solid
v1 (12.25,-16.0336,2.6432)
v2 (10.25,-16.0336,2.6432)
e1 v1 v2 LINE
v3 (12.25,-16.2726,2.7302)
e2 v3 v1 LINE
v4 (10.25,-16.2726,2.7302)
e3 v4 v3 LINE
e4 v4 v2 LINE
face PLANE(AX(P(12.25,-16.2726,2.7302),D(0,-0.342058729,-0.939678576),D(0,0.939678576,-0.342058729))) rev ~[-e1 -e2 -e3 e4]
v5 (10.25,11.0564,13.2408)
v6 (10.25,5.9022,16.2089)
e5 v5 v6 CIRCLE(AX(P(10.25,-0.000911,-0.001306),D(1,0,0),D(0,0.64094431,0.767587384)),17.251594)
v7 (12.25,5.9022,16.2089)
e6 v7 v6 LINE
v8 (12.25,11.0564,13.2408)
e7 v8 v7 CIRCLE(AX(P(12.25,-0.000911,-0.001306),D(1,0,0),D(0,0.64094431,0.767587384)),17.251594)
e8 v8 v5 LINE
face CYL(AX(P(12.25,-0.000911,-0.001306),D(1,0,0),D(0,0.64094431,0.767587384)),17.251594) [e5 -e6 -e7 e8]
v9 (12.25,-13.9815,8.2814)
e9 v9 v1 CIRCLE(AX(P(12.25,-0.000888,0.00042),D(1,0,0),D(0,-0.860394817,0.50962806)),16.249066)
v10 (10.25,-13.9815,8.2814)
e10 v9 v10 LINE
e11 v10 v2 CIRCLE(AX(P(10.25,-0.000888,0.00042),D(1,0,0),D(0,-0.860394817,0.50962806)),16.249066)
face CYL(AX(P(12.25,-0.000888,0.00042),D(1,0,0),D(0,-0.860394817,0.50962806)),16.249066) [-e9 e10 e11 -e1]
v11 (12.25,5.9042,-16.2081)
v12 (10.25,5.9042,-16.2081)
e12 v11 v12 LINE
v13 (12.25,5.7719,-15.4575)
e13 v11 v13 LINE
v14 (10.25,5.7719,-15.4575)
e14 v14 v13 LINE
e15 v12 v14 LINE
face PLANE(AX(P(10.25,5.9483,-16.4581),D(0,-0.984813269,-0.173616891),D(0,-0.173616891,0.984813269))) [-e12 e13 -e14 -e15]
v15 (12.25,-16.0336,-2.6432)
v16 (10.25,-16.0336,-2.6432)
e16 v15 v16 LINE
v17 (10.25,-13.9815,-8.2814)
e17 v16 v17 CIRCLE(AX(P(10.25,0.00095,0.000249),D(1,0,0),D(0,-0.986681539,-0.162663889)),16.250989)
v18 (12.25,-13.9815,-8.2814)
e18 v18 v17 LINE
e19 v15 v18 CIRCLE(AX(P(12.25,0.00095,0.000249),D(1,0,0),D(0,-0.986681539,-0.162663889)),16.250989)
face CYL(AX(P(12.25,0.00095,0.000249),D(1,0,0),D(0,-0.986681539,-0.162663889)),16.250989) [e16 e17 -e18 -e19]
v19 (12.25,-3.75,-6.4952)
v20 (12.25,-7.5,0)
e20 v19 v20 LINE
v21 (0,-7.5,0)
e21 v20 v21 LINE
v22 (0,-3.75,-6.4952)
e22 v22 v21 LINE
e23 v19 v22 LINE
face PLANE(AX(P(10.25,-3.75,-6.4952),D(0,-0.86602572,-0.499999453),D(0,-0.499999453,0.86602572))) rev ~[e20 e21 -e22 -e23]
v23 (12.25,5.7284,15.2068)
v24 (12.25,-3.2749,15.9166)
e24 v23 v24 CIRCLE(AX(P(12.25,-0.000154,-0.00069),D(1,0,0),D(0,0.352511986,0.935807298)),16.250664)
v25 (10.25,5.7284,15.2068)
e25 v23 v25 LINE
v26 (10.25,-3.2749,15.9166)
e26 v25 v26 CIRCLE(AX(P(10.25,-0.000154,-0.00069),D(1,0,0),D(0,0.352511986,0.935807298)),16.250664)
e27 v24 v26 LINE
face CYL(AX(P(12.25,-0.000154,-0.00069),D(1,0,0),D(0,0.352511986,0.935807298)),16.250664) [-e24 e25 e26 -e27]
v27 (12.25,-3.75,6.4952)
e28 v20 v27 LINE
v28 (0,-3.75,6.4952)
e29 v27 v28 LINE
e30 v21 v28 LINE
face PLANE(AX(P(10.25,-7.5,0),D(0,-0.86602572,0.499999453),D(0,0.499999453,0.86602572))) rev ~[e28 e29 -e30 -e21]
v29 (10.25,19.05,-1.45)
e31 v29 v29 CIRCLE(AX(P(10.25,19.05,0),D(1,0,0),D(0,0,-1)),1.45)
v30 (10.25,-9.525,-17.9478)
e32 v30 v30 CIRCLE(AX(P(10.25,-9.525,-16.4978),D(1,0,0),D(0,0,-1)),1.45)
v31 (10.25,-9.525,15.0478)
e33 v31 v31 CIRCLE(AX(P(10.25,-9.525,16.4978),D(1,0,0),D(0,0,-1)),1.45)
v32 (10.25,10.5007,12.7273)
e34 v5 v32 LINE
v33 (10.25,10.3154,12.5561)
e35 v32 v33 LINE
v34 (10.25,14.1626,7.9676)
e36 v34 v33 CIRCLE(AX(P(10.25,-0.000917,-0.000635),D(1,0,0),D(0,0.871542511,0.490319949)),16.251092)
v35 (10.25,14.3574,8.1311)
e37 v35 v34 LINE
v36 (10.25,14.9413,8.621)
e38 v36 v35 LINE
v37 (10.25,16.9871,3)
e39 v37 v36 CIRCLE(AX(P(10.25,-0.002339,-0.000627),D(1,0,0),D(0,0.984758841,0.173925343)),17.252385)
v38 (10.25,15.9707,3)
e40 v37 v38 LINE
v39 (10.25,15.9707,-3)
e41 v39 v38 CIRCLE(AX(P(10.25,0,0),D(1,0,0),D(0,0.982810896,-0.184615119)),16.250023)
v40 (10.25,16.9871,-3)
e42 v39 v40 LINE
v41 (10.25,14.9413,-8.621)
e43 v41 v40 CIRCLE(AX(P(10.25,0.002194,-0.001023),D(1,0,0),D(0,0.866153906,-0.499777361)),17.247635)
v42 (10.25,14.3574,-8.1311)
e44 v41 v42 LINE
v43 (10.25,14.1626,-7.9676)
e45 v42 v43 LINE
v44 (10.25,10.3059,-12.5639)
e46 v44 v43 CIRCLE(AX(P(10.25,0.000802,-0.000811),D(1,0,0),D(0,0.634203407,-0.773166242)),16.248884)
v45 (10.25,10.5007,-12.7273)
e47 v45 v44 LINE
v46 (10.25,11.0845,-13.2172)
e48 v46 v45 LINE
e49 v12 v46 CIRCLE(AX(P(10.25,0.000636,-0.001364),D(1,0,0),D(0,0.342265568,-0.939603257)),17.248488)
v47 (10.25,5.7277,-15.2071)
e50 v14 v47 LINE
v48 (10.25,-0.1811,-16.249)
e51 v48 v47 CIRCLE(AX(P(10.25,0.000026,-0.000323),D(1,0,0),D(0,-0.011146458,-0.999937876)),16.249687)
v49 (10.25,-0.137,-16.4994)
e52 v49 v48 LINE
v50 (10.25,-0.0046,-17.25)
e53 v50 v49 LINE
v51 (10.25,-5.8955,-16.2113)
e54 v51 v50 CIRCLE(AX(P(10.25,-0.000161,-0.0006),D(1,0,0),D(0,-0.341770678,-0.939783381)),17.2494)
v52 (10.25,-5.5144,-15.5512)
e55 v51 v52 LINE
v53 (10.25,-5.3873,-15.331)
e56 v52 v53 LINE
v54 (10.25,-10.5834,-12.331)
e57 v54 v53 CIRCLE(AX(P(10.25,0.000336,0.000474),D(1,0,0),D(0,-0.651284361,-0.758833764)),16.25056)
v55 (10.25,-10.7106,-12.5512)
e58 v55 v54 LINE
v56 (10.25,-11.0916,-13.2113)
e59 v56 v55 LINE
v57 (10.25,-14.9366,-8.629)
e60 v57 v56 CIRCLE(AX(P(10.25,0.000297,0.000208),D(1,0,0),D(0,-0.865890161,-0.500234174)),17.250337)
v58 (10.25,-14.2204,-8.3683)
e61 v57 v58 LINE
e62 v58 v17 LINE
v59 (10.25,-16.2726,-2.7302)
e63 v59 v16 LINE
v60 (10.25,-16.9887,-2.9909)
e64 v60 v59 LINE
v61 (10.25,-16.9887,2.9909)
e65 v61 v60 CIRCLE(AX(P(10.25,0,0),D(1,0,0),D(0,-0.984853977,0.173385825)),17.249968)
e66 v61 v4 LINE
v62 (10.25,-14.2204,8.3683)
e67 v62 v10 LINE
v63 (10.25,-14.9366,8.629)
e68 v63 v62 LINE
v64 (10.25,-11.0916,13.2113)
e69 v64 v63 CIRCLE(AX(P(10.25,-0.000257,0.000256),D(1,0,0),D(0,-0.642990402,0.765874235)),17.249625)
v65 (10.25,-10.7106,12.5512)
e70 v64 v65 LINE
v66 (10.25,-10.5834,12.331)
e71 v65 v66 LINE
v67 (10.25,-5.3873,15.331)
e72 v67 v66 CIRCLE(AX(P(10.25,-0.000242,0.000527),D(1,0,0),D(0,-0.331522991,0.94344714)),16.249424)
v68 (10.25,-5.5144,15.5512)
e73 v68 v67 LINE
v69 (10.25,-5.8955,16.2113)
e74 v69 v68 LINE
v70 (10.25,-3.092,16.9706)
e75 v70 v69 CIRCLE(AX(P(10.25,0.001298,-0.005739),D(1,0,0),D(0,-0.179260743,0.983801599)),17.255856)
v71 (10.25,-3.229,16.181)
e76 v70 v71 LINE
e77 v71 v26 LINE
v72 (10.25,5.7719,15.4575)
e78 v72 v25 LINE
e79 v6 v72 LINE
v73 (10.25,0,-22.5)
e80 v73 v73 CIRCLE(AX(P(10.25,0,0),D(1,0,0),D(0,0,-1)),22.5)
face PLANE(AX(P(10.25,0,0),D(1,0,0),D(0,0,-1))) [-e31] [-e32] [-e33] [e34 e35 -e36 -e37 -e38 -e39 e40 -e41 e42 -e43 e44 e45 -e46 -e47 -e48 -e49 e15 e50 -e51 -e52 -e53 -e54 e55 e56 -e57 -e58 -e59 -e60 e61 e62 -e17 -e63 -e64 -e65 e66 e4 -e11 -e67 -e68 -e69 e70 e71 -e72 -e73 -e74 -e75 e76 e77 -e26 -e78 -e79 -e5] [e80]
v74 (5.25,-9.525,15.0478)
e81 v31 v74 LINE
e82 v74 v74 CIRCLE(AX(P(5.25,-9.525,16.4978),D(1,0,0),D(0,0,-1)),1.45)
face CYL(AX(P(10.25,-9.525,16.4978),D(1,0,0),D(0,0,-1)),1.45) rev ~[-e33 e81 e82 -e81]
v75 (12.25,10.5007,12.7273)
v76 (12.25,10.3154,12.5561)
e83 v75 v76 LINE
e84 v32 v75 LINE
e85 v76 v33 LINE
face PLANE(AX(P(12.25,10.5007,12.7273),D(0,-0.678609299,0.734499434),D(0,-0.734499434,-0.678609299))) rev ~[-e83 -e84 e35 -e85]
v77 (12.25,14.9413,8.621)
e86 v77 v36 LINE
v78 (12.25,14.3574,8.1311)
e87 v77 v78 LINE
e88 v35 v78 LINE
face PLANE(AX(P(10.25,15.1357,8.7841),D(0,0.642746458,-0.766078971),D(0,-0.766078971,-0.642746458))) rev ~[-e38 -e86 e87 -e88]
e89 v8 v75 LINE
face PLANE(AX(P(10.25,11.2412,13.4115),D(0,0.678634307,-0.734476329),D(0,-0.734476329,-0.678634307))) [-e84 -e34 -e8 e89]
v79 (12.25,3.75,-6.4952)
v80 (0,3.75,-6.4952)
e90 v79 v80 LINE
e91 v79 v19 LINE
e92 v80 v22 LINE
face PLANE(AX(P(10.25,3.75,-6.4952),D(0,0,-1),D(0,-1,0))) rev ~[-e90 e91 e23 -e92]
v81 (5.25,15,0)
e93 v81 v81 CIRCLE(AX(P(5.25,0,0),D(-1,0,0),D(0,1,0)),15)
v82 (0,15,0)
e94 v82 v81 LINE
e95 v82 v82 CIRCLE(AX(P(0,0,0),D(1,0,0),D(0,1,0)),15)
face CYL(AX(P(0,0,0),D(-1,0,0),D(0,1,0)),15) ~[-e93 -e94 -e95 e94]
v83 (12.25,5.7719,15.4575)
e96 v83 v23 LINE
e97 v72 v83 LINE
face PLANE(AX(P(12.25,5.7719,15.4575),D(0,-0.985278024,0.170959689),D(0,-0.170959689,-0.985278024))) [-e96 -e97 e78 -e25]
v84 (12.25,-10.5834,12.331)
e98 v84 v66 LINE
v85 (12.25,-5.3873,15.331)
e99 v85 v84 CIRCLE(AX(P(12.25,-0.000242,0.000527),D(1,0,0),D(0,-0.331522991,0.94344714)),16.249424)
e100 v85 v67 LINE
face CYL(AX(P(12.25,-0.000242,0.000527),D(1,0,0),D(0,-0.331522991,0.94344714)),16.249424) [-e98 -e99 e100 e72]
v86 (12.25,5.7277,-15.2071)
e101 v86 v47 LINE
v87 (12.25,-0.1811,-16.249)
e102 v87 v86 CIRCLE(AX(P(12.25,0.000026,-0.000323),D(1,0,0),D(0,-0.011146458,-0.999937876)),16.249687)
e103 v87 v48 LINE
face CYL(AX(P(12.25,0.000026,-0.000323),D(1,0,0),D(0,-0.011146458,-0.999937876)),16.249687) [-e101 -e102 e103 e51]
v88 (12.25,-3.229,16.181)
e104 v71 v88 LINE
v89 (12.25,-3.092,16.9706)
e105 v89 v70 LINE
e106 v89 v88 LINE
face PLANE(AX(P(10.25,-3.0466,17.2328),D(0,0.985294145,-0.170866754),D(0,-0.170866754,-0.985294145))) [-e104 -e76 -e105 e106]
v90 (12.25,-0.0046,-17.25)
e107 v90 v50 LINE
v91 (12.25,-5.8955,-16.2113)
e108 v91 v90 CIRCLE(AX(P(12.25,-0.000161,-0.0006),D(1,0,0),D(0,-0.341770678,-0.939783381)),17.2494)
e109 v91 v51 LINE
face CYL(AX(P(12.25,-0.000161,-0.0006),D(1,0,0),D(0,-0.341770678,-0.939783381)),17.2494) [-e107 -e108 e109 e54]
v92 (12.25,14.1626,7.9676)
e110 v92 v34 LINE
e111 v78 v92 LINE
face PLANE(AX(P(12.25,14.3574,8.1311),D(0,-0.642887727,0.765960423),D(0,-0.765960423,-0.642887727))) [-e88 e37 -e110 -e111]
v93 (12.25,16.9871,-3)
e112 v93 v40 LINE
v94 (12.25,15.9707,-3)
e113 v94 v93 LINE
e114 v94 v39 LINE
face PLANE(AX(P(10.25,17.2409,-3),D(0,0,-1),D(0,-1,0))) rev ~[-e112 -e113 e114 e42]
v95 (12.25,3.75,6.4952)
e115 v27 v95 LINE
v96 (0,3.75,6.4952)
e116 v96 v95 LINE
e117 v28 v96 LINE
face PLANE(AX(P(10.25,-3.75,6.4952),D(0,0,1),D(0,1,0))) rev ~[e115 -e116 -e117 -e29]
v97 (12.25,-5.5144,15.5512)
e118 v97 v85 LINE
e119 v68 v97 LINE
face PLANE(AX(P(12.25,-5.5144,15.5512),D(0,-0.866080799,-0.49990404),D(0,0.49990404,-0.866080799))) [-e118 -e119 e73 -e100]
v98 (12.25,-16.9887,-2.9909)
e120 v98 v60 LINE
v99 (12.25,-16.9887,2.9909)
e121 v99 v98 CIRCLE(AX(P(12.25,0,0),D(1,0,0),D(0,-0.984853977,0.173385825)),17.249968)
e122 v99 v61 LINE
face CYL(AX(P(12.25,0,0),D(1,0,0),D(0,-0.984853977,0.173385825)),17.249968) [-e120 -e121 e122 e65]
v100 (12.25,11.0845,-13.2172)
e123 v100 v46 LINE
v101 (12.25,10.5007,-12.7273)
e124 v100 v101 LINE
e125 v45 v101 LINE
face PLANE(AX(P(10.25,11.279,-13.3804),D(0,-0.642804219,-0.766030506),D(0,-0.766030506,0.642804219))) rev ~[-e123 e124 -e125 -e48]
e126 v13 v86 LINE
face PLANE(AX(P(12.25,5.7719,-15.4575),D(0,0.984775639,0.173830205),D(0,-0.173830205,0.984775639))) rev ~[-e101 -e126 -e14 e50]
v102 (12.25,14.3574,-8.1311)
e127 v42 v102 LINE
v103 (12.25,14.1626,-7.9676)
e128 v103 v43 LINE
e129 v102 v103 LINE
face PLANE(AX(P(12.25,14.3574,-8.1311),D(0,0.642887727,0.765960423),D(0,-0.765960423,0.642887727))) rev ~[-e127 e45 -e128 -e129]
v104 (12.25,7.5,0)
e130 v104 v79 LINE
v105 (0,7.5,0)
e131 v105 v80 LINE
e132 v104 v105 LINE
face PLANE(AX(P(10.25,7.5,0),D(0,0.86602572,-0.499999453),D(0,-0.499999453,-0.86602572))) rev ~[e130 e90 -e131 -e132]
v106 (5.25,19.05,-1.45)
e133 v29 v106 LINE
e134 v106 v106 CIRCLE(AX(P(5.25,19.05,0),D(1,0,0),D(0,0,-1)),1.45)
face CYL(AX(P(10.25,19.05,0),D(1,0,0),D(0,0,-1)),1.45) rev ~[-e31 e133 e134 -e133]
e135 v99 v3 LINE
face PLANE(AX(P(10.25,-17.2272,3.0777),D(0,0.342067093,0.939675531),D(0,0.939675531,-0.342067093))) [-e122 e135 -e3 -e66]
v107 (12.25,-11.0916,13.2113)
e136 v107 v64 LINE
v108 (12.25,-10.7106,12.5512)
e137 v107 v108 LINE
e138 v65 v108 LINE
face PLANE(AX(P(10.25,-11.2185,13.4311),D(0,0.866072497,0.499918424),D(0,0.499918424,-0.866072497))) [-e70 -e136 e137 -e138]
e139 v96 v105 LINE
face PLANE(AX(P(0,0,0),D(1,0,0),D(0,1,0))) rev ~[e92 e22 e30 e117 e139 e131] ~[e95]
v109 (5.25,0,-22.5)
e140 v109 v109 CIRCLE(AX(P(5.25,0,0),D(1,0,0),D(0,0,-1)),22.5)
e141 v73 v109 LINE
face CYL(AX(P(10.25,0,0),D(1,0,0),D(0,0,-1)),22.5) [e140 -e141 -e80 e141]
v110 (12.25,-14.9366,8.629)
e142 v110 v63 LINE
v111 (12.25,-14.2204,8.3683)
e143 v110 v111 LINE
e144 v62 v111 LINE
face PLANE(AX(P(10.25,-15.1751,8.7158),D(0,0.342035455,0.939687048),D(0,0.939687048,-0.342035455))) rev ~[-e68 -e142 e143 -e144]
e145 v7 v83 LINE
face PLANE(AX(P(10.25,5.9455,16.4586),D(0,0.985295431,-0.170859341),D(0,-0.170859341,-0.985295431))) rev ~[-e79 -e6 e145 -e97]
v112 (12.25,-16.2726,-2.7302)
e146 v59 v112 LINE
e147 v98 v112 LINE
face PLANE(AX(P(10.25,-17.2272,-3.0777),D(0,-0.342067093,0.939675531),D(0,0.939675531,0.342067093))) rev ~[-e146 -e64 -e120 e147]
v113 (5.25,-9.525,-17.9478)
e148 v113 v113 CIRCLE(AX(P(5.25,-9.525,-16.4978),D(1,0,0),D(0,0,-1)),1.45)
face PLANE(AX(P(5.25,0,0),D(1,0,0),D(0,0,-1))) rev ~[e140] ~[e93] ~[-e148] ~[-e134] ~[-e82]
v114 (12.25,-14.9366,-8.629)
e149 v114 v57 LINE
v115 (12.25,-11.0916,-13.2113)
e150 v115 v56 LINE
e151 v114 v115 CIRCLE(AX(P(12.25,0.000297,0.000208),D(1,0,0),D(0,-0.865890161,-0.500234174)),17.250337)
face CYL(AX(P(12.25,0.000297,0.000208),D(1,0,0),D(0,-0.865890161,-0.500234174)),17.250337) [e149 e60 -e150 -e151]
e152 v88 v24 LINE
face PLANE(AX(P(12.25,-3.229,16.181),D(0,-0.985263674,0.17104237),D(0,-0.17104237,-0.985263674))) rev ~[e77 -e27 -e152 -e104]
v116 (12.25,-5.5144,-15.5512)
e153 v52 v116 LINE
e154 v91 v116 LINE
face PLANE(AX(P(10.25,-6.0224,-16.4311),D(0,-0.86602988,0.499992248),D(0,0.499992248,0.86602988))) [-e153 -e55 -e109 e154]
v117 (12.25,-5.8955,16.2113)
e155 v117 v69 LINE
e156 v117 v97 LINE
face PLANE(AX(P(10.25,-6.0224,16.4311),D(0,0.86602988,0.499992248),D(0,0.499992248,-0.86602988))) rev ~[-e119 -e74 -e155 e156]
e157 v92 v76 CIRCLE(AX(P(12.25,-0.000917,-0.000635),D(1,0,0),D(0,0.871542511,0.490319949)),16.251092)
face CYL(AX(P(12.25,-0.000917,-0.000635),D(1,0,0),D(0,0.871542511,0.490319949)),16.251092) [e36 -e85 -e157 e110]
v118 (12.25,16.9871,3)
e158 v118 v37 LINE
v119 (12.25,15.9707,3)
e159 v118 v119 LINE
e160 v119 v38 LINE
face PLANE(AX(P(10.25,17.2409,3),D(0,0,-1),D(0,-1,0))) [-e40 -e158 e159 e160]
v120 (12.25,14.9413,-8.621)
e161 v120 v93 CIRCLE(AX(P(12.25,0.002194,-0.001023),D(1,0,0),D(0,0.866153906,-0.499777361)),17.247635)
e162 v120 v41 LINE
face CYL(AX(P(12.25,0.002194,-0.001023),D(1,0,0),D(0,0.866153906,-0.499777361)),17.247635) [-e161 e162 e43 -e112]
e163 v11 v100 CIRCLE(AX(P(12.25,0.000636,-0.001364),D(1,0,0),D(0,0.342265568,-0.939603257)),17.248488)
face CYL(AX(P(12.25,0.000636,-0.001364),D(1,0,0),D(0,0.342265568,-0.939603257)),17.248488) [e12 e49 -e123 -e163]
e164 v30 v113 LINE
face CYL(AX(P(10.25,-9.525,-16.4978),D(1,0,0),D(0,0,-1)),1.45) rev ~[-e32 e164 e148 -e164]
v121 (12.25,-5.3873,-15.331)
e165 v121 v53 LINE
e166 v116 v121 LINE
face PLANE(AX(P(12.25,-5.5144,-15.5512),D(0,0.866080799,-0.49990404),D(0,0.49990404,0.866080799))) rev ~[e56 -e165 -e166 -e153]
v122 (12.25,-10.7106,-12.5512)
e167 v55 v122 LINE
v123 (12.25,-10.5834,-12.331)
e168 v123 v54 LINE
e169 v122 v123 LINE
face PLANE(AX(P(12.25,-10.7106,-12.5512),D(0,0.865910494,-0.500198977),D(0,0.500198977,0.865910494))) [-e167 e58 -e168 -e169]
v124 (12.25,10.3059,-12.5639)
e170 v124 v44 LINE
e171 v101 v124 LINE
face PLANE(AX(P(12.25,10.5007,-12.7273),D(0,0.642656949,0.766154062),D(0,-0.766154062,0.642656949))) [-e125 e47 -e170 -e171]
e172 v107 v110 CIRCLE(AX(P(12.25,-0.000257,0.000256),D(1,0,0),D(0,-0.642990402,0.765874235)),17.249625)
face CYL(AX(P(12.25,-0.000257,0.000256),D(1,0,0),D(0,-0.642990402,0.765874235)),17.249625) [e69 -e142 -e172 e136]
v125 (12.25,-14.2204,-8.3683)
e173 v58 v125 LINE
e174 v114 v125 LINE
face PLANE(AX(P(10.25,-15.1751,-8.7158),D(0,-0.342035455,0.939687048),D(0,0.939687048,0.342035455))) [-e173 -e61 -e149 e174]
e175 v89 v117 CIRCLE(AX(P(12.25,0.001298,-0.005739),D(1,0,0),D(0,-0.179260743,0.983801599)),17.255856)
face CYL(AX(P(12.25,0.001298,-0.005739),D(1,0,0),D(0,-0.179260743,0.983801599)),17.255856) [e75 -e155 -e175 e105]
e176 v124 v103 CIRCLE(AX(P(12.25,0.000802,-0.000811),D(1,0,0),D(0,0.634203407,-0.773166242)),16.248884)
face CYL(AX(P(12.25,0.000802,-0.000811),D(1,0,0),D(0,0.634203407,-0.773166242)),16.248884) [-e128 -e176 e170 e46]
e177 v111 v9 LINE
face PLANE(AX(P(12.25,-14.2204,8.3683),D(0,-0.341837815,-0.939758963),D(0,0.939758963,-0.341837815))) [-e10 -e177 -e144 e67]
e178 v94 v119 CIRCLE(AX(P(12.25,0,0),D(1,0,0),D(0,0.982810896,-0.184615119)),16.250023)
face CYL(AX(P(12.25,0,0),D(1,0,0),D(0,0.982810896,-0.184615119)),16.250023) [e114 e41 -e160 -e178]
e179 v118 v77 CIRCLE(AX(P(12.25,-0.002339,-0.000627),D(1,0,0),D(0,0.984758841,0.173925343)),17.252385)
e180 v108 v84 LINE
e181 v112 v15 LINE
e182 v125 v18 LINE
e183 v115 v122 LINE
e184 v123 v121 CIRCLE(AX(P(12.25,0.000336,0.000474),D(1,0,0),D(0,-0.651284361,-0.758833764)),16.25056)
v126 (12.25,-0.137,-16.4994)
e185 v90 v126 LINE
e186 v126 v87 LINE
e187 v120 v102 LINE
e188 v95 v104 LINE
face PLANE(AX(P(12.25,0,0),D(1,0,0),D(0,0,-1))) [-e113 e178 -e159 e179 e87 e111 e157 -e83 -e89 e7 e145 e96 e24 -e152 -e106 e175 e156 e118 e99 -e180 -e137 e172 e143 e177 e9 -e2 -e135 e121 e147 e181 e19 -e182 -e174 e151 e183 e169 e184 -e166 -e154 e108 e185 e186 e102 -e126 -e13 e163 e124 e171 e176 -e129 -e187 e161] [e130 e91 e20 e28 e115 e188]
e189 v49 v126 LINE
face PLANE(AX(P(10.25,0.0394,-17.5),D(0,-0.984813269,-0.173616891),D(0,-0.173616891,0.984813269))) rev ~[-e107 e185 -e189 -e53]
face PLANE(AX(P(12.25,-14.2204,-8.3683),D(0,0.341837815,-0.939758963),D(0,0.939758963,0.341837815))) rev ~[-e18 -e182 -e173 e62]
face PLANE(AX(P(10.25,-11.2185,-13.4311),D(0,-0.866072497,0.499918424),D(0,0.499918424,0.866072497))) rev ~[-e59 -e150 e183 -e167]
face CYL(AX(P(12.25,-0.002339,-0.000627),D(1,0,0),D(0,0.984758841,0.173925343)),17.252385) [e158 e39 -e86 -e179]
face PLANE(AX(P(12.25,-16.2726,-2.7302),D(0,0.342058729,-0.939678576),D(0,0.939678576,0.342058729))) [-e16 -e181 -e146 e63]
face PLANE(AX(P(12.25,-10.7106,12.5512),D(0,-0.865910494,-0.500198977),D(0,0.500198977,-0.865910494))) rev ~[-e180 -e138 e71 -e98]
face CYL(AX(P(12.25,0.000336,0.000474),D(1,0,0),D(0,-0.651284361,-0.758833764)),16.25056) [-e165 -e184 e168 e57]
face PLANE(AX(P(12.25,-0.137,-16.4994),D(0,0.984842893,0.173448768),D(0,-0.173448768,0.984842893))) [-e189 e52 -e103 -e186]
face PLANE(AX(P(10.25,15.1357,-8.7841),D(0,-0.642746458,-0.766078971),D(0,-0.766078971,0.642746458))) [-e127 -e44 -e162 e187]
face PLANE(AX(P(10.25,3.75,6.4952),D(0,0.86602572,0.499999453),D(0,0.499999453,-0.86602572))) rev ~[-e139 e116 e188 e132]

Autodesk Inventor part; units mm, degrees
ref_plane "YZ Plane" through (0, 0, 0) normal (1, 0, 0) x (0, 1, 0)
ref_plane "XZ Plane" through (0, 0, 0) normal (0, 1, 0) x (-1, 0, 0)
sketch "Sketch1" plane through (0, 0, 0) normal (1, 0, 0) x (0, 1, 0)
  line L0 (0, 0) -> (7.5, 0)
  line L1 (7.5, 0) -> (3.75, -6.4952)
  line L2 (3.75, -6.4952) -> (-3.75, -6.4952)
  line L3 (-3.75, -6.4952) -> (-7.5, 0)
  line L4 (-7.5, 0) -> (-3.75, 6.4952)
  line L5 (-3.75, 6.4952) -> (3.75, 6.4952)
  line L6 (3.75, 6.4952) -> (7.5, 0)
  circle A0 centre (0, 0) radius 15
  dimension "d0" = 7.5
  dimension "d1" = 30
extrude "Extrusion1" add sketch "Sketch1" along normal blind 10.25
sketch "Sketch2" plane through (10.25, 0, 0) normal (1, 0, 0) x (0, 0, -1)
  circle A0 centre (0, 0) radius 22.5
  line L0 (-6.4952, 3.75) -> (0, 7.5) projected
  line L1 (-6.4952, -3.75) -> (-6.4952, 3.75) projected
  line L2 (0, -7.5) -> (-6.4952, -3.75) projected
  line L3 (6.4952, -3.75) -> (0, -7.5) projected
  line L4 (6.4952, 3.75) -> (6.4952, -3.75) projected
  line L5 (0, 7.5) -> (6.4952, 3.75) projected
  dimension "d4" = 45
extrude "Extrusion2" add sketch "Sketch2" against normal blind 5
sketch "Sketch3" plane through (10.25, 0, 0) normal (1, 0, 0) x (0, 0, -1)
  circle A0 centre (0, 19.05) radius 1.45
  circle A1 centre (-16.4978, -9.525) radius 1.45
  circle A2 centre (16.4978, -9.525) radius 1.45
  point P0 (0, 0)
  dimension "d11" = 360
extrude "Extrusion3" cut sketch "Sketch3" against normal up to surface (5 mm away)
sketch "Sketch4" plane through (10.25, 0, 0) normal (1, 0, 0) x (0, 0, -1)
  circle A0 centre (0, 19.05) radius 1.45
  line L0 (-3, 17.2409) -> (-3, 16.225)
  line L1 (3, 17.2409) -> (3, 16.225)
  line L2 (13.3804, 11.279) -> (12.7273, 10.5007)
  line L3 (8.7841, 15.1357) -> (8.1311, 14.3574)
  line L4 (17.5, 0.0394) -> (16.4994, -0.137)
  line L5 (16.4581, 5.9483) -> (15.4575, 5.7719)
  line L6 (13.4311, -11.2185) -> (12.5512, -10.7106)
  line L7 (16.4311, -6.0224) -> (15.5512, -5.5144)
  arc A1 (8.7841, 15.1357) -> (3, 17.2409) centre (0, 0) ccw
  arc A2 (16.4311, -6.0224) -> (17.5, 0.0394) centre (0, 0) ccw
  arc A3 (16.4581, 5.9483) -> (13.3804, 11.279) centre (0, 0) ccw
  arc A4 (12.7273, 10.5007) -> (8.1311, 14.3574) centre (0, 0) ccw
  arc A5 (16.4994, -0.137) -> (15.4575, 5.7719) centre (0, 0) ccw
  line L8 (3.0777, -17.2272) -> (2.7302, -16.2726)
  line L9 (3.0777, -17.2272) -> (2.7302, -16.2726)
  line L10 (8.7158, -15.1751) -> (8.3683, -14.2204)
  line L11 (8.7158, -15.1751) -> (8.3683, -14.2204)
  line L12 (-8.7158, -15.1751) -> (-8.3683, -14.2204)
  line L13 (-8.7158, -15.1751) -> (-8.3683, -14.2204)
  line L14 (-3.0777, -17.2272) -> (-2.7302, -16.2726)
  line L15 (-3.0777, -17.2272) -> (-2.7302, -16.2726)
  line L16 (-16.4311, -6.0224) -> (-15.5512, -5.5144)
  line L17 (-16.4311, -6.0224) -> (-15.5512, -5.5144)
  line L18 (-13.4311, -11.2185) -> (-12.5512, -10.7106)
  line L19 (-13.4311, -11.2185) -> (-12.5512, -10.7106)
  arc A6 (8.7158, -15.1751) -> (13.4311, -11.2185) centre (0, 0) ccw
  arc A7 (-13.4311, -11.2185) -> (-8.7158, -15.1751) centre (0, 0) ccw
  arc A8 (-3.0777, -17.2272) -> (3.0777, -17.2272) centre (0, 0) ccw
  arc A9 (12.5512, -10.7106) -> (15.5512, -5.5144) centre (0, 0) ccw
  arc A10 (2.7302, -16.2726) -> (8.3683, -14.2204) centre (0, 0) ccw
  arc A11 (-8.3683, -14.2204) -> (-2.7302, -16.2726) centre (0, 0) ccw
  line L20 (-8.7841, 15.1357) -> (-8.1311, 14.3574)
  line L21 (-13.4115, 11.2412) -> (-12.7273, 10.5007)
  line L22 (-16.4586, 5.9455) -> (-15.4575, 5.7719)
  line L23 (-16.4311, -6.0224) -> (-15.5512, -5.5144)
  line L24 (-13.4311, -11.2185) -> (-12.5512, -10.7106)
  arc A12 (-3, 17.2409) -> (-8.7841, 15.1357) centre (0, 0) ccw
  arc A13 (-13.4115, 11.2412) -> (-15.8894, 7.3321) centre (0, 0) ccw
  arc A14 (-17.2328, -3.0466) -> (-16.4311, -6.0224) centre (0, 0) ccw
  arc A15 (-15.5512, -5.5144) -> (-12.5512, -10.7106) centre (0, 0) ccw
  arc A16 (3, 16.225) -> (-3, 16.225) centre (0, 0) ccw
  arc A17 (-8.1311, 14.3574) -> (-12.7273, 10.5007) centre (0, 0) ccw
  line L25 (-6.4952, 3.75) -> (0, 7.5)
  line L26 (-6.4952, -3.75) -> (-6.4952, 3.75)
  line L27 (0, -7.5) -> (-6.4952, -3.75)
  line L28 (6.4952, -3.75) -> (0, -7.5)
  line L29 (6.4952, 3.75) -> (6.4952, -3.75)
  line L30 (0, 7.5) -> (6.4952, 3.75)
  line L31 (-17.2328, -3.0466) -> (-16.181, -3.229)
  arc A18 (-3, 17.2409) -> (-8.7841, 15.1357) centre (0, 0) ccw
  arc A19 (8.7841, 15.1357) -> (3, 17.2409) centre (0, 0) ccw
  arc A20 (16.4581, 5.9483) -> (13.3804, 11.279) centre (0, 0) ccw
  arc A21 (16.4311, -6.0224) -> (17.5, 0.0394) centre (0, 0) ccw
  arc A22 (8.7158, -15.1751) -> (13.4311, -11.2185) centre (0, 0) ccw
  arc A23 (-3.0777, -17.2272) -> (3.0777, -17.2272) centre (0, 0) ccw
  arc A24 (-13.4311, -11.2185) -> (-8.7158, -15.1751) centre (0, 0) ccw
  arc A25 (-13.4115, 11.2412) -> (-16.4586, 5.9455) centre (0, 0) ccw
  arc A26 (3, 16.225) -> (-3, 16.225) centre (0, 0) ccw
  arc A27 (12.7273, 10.5007) -> (8.1311, 14.3574) centre (0, 0) ccw
  arc A28 (16.4994, -0.137) -> (15.4575, 5.7719) centre (0, 0) ccw
  arc A29 (12.5512, -10.7106) -> (15.5512, -5.5144) centre (0, 0) ccw
  arc A30 (2.7302, -16.2726) -> (8.3683, -14.2204) centre (0, 0) ccw
  arc A31 (-8.3683, -14.2204) -> (-2.7302, -16.2726) centre (0, 0) ccw
  arc A32 (-15.4575, 5.7719) -> (-16.181, -3.229) centre (0, 0) ccw
  arc A33 (-15.5512, -5.5144) -> (-12.5512, -10.7106) centre (0, 0) ccw
  arc A34 (-8.3683, -14.2204) -> (-2.7302, -16.2726) centre (0, 0) ccw
  arc A35 (2.7302, -16.2726) -> (8.3683, -14.2204) centre (0, 0) ccw
  arc A36 (12.5512, -10.7106) -> (15.5512, -5.5144) centre (0, 0) ccw
  arc A37 (16.4994, -0.137) -> (15.4575, 5.7719) centre (0, 0) ccw
  arc A38 (12.7273, 10.5007) -> (8.1311, 14.3574) centre (0, 0) ccw
  arc A39 (3, 16.225) -> (-3, 16.225) centre (0, 0) ccw
  arc A40 (-8.1311, 14.3574) -> (-12.7273, 10.5007) centre (0, 0) ccw
  line L32 (-16.181, -3.229) -> (-17.2328, -3.0466)
  line L33 (-8.7158, -15.1751) -> (-8.3683, -14.2204)
  line L34 (-3.0777, -17.2272) -> (-2.7302, -16.2726)
  line L35 (3.0777, -17.2272) -> (2.7302, -16.2726)
  line L36 (8.3683, -14.2204) -> (8.7158, -15.1751)
  line L37 (12.5512, -10.7106) -> (13.4311, -11.2185)
  line L38 (15.5512, -5.5144) -> (16.4311, -6.0224)
  line L39 (16.4994, -0.137) -> (17.5, 0.0394)
  line L40 (15.4575, 5.7719) -> (16.4581, 5.9483)
  line L41 (12.7273, 10.5007) -> (13.3804, 11.279)
  line L42 (8.1311, 14.3574) -> (8.7841, 15.1357)
  line L43 (3, 16.225) -> (3, 17.2409)
  line L44 (-3, 16.225) -> (-3, 17.2409)
  line L45 (-8.1311, 14.3574) -> (-8.7841, 15.1357)
  line L46 (-12.7273, 10.5007) -> (-13.3804, 11.279)
  line L47 (-12.7273, 10.5007) -> (-13.3804, 11.279)
  line L48 (-15.4575, 5.7719) -> (-16.4586, 5.9455)
  line L49 (-16.181, -3.229) -> (-17.2328, -3.0466)
  line L50 (-16.4311, -6.0224) -> (-15.5512, -5.5144)
  line L51 (-13.4311, -11.2185) -> (-12.5512, -10.7106)
  line L52 (-8.7158, -15.1751) -> (-8.3683, -14.2204)
  line L53 (-3.0777, -17.2272) -> (-2.7302, -16.2726)
  line L54 (3.0777, -17.2272) -> (2.7302, -16.2726)
  point P0 (15.5512, -5.5144)
  point P1 (-8.7158, -15.1751)
  point P2 (-3.0777, -17.2272)
  point P3 (3.0777, -17.2272)
  point P4 (2.7302, -16.2726)
  point P5 (8.7158, -15.1751)
  point P6 (-15.5512, -5.5144)
  point P7 (-2.7302, -16.2726)
  point P8 (-8.3683, -14.2204)
  point P9 (8.3683, -14.2204)
  point P10 (2.7302, -16.2726)
ref_plane "Work Plane1" through (12.15, 0, 0) normal (1, 0, 0) x (0, 0, -1)
sketch "Sketch5" plane through (12.15, 0, 0) normal (1, 0, 0) x (0, 0, -1)
  line L0 (6.4952, 3.75) -> (6.4952, -3.75) projected
  circle A0 centre (0, 0) radius 7.5
extrude "Extrusion6" add sketch "Sketch4" along normal blind 2 contours L0 A16 L1 A1 L3 A4 L2 A3 L5 A5 L4 A2 L7 A9 L6 A6 L10 A10 L8 A8 L14 A11 L12 A7 L18 A15 L16 A14 L31 A32 L22 A25 A13 L21 A17 L20 A12
sketch "Sketch6" plane through (12.25, 0, 0) normal (1, 0, 0) x (0, 0, -1)
  arc A0 (-13.4115, 11.2412) -> (-16.4586, 5.9455) centre (0, 0) ccw projected
  line L0 (-16.4586, 5.9455) -> (-15.4575, 5.7719) projected
  arc A1 (-15.4575, 5.7719) -> (-16.181, -3.229) centre (0, 0) ccw projected
  line L1 (-16.181, -3.229) -> (-17.2328, -3.0466) projected
  arc A2 (-17.2328, -3.0466) -> (-16.4311, -6.0224) centre (0, 0) ccw projected
  line L2 (-16.4311, -6.0224) -> (-15.5512, -5.5144) projected
  arc A3 (-15.5512, -5.5144) -> (-12.5512, -10.7106) centre (0, 0) ccw projected
  line L3 (-12.5512, -10.7106) -> (-13.4311, -11.2185) projected
  arc A4 (-13.4311, -11.2185) -> (-8.7158, -15.1751) centre (0, 0) ccw projected
  line L4 (-8.7158, -15.1751) -> (-8.3683, -14.2204) projected
  arc A5 (-8.3683, -14.2204) -> (-2.7302, -16.2726) centre (0, 0) ccw projected
  line L5 (-2.7302, -16.2726) -> (-3.0777, -17.2272) projected
  arc A6 (-3.0777, -17.2272) -> (3.0777, -17.2272) centre (0, 0) ccw projected
  line L6 (3.0777, -17.2272) -> (2.7302, -16.2726) projected
  arc A7 (2.7302, -16.2726) -> (8.3683, -14.2204) centre (0, 0) ccw projected
  line L7 (8.3683, -14.2204) -> (8.7158, -15.1751) projected
  arc A8 (8.7158, -15.1751) -> (13.4311, -11.2185) centre (0, 0) ccw projected
  line L8 (13.4311, -11.2185) -> (12.5512, -10.7106) projected
  arc A9 (12.5512, -10.7106) -> (15.5512, -5.5144) centre (0, 0) ccw projected
  line L9 (15.5512, -5.5144) -> (16.4311, -6.0224) projected
  arc A10 (16.4311, -6.0224) -> (17.5, 0.0394) centre (0, 0) ccw projected
  line L10 (17.5, 0.0394) -> (16.4994, -0.137) projected
  arc A11 (16.4994, -0.137) -> (15.4575, 5.7719) centre (0, 0) ccw projected
  line L11 (15.4575, 5.7719) -> (16.4581, 5.9483) projected
  arc A12 (16.4581, 5.9483) -> (13.3804, 11.279) centre (0, 0) ccw projected
  line L12 (13.3804, 11.279) -> (12.7273, 10.5007) projected
  arc A13 (12.7273, 10.5007) -> (8.1311, 14.3574) centre (0, 0) ccw projected
  line L13 (8.1311, 14.3574) -> (8.7841, 15.1357) projected
  arc A14 (8.7841, 15.1357) -> (3, 17.2409) centre (0, 0) ccw projected
  line L14 (3, 17.2409) -> (3, 16.225) projected
  arc A15 (3, 16.225) -> (-3, 16.225) centre (0, 0) ccw projected
  line L15 (-3, 16.225) -> (-3, 17.2409) projected
  arc A16 (-3, 17.2409) -> (-8.7841, 15.1357) centre (0, 0) ccw projected
  line L16 (-8.7841, 15.1357) -> (-8.1311, 14.3574) projected
  arc A17 (-8.1311, 14.3574) -> (-12.7273, 10.5007) centre (0, 0) ccw projected
  line L17 (-12.7273, 10.5007) -> (-13.4115, 11.2412) projected
  line L18 (-6.4952, 3.75) -> (0, 7.5) projected
  line L19 (0, 7.5) -> (6.4952, 3.75) projected
  line L20 (6.4952, 3.75) -> (6.4952, -3.75) projected
  line L21 (6.4952, -3.75) -> (0, -7.5) projected
  line L22 (0, -7.5) -> (-6.4952, -3.75) projected
  line L23 (-6.4952, -3.75) -> (-6.4952, 3.75) projected
  arc A18 (3, 16.225) -> (-3, 16.225) centre (0, 0) ccw projected
  line L24 (3, 16.225) -> (3, 15.9707)
  line L25 (8.1311, 14.3574) -> (7.9676, 14.1626)
  line L26 (12.7273, 10.5007) -> (12.5639, 10.3059)
  line L27 (15.4575, 5.7719) -> (15.2071, 5.7277)
  line L28 (16.4994, -0.137) -> (16.249, -0.1811)
  line L29 (15.5512, -5.5144) -> (16.4311, -6.0224) projected
  line L30 (15.5512, -5.5144) -> (15.331, -5.3873)
  line L31 (12.5512, -10.7106) -> (13.4311, -11.2185) projected
  line L32 (12.5512, -10.7106) -> (12.331, -10.5834)
  line L33 (8.7158, -15.1751) -> (8.3683, -14.2204) projected
  line L34 (8.3683, -14.2204) -> (8.2814, -13.9815)
  line L35 (2.7302, -16.2726) -> (2.6432, -16.0336)
  arc A19 (-8.3683, -14.2204) -> (-2.7302, -16.2726) centre (0, 0) ccw projected
  line L36 (-2.7302, -16.2726) -> (-2.6432, -16.0336)
  line L37 (-8.3683, -14.2204) -> (-8.2814, -13.9815)
  line L38 (-12.5512, -10.7106) -> (-12.331, -10.5834)
  line L39 (-15.5512, -5.5144) -> (-15.331, -5.3873)
  arc A20 (-15.4575, 5.7719) -> (-16.181, -3.229) centre (0, 0) ccw projected
  line L40 (-16.181, -3.229) -> (-15.9166, -3.2749)
  line L41 (-15.4575, 5.7719) -> (-15.2068, 5.7284)
  line L42 (-12.7273, 10.5007) -> (-12.5561, 10.3154)
  line L43 (-8.1311, 14.3574) -> (-7.9676, 14.1626)
  line L44 (-3, 16.225) -> (-3, 15.9707)
  arc A21 (-7.9676, 14.1626) -> (-12.5561, 10.3154) centre (0, 0) ccw
  arc A22 (-15.2068, 5.7284) -> (-15.9166, -3.2749) centre (0, 0) ccw
  arc A23 (-15.331, -5.3873) -> (-12.331, -10.5834) centre (0, 0) ccw
  arc A24 (-8.2814, -13.9815) -> (-2.6432, -16.0336) centre (0, 0) ccw
  arc A25 (2.6432, -16.0336) -> (8.2814, -13.9815) centre (0, 0) ccw
  arc A26 (12.331, -10.5834) -> (15.331, -5.3873) centre (0, 0) ccw
  arc A27 (16.249, -0.1811) -> (15.2071, 5.7277) centre (0, 0) ccw
  arc A28 (12.5639, 10.3059) -> (7.9676, 14.1626) centre (0, 0) ccw
  arc A29 (3, 15.9707) -> (-3, 15.9707) centre (0, 0) ccw
  arc A30 (-3, 16.9871) -> (-8.621, 14.9413) centre (0, 0) ccw
  arc A31 (-13.2408, 11.0564) -> (-16.2089, 5.9022) centre (0, 0) ccw
  arc A32 (-16.9706, -3.092) -> (-16.2113, -5.8955) centre (0, 0) ccw
  arc A33 (-13.2113, -11.0916) -> (-8.629, -14.9366) centre (0, 0) ccw
  arc A34 (-2.9909, -16.9887) -> (2.9909, -16.9887) centre (0, 0) ccw
  arc A35 (8.629, -14.9366) -> (13.2113, -11.0916) centre (0, 0) ccw
  arc A36 (16.2113, -5.8955) -> (17.25, -0.0046) centre (0, 0) ccw
  arc A37 (16.2081, 5.9042) -> (13.2172, 11.0845) centre (0, 0) ccw
  arc A38 (8.621, 14.9413) -> (3, 16.9871) centre (0, 0) ccw
  circle A39 centre (0, 0) radius 17.5
  point P0 (-8.7158, -15.1751)
  point P1 (3.0777, -17.2272)
  point P2 (13.4311, -11.2185)
  point P3 (17.5, 0.0394)
  point P4 (3, 17.2409)
  point P5 (-16.4311, -6.0224)
  point P6 (16.2113, -5.8955)
  point P7 (13.2113, -11.0916)
  point P8 (8.629, -14.9366)
extrude "Extrusion7" cut sketch "Sketch6" against normal up to surface (2 mm away) contours L17 A31 L0 A0 | A39 L16 A17 L17 | L0 A1 L1 A39 | A16 L15 A30 L16 | L1 A32 L2 A2 | A17 L43 A21 L42 | A39 L14 A15 L15 | L41 A22 L40 A1 | L2 A3 L3 A39 | A14 L13 A38 L14 | L3 A33 L4 A4 | A15 L24 A29 L44 | A39 L12 A13 L13 | L39 A23 L38 A3 | L4 A5 L5 A39 | A12 L11 A37 L12 | L5 A34 L6 A6 | A13 L26 A28 L25 | A39 L10 A11 L11 | L37 A24 L36 A5 | L6 A7 L7 A39 | A10 L9 A36 L10 | L7 A35 L8 A8 | A11 L28 A27 L27 | L35 A25 L34 A7 | L8 A9 L9 A39 | A9 L32 A26 L30
properties part number "wheel_gearing_mount_short"
